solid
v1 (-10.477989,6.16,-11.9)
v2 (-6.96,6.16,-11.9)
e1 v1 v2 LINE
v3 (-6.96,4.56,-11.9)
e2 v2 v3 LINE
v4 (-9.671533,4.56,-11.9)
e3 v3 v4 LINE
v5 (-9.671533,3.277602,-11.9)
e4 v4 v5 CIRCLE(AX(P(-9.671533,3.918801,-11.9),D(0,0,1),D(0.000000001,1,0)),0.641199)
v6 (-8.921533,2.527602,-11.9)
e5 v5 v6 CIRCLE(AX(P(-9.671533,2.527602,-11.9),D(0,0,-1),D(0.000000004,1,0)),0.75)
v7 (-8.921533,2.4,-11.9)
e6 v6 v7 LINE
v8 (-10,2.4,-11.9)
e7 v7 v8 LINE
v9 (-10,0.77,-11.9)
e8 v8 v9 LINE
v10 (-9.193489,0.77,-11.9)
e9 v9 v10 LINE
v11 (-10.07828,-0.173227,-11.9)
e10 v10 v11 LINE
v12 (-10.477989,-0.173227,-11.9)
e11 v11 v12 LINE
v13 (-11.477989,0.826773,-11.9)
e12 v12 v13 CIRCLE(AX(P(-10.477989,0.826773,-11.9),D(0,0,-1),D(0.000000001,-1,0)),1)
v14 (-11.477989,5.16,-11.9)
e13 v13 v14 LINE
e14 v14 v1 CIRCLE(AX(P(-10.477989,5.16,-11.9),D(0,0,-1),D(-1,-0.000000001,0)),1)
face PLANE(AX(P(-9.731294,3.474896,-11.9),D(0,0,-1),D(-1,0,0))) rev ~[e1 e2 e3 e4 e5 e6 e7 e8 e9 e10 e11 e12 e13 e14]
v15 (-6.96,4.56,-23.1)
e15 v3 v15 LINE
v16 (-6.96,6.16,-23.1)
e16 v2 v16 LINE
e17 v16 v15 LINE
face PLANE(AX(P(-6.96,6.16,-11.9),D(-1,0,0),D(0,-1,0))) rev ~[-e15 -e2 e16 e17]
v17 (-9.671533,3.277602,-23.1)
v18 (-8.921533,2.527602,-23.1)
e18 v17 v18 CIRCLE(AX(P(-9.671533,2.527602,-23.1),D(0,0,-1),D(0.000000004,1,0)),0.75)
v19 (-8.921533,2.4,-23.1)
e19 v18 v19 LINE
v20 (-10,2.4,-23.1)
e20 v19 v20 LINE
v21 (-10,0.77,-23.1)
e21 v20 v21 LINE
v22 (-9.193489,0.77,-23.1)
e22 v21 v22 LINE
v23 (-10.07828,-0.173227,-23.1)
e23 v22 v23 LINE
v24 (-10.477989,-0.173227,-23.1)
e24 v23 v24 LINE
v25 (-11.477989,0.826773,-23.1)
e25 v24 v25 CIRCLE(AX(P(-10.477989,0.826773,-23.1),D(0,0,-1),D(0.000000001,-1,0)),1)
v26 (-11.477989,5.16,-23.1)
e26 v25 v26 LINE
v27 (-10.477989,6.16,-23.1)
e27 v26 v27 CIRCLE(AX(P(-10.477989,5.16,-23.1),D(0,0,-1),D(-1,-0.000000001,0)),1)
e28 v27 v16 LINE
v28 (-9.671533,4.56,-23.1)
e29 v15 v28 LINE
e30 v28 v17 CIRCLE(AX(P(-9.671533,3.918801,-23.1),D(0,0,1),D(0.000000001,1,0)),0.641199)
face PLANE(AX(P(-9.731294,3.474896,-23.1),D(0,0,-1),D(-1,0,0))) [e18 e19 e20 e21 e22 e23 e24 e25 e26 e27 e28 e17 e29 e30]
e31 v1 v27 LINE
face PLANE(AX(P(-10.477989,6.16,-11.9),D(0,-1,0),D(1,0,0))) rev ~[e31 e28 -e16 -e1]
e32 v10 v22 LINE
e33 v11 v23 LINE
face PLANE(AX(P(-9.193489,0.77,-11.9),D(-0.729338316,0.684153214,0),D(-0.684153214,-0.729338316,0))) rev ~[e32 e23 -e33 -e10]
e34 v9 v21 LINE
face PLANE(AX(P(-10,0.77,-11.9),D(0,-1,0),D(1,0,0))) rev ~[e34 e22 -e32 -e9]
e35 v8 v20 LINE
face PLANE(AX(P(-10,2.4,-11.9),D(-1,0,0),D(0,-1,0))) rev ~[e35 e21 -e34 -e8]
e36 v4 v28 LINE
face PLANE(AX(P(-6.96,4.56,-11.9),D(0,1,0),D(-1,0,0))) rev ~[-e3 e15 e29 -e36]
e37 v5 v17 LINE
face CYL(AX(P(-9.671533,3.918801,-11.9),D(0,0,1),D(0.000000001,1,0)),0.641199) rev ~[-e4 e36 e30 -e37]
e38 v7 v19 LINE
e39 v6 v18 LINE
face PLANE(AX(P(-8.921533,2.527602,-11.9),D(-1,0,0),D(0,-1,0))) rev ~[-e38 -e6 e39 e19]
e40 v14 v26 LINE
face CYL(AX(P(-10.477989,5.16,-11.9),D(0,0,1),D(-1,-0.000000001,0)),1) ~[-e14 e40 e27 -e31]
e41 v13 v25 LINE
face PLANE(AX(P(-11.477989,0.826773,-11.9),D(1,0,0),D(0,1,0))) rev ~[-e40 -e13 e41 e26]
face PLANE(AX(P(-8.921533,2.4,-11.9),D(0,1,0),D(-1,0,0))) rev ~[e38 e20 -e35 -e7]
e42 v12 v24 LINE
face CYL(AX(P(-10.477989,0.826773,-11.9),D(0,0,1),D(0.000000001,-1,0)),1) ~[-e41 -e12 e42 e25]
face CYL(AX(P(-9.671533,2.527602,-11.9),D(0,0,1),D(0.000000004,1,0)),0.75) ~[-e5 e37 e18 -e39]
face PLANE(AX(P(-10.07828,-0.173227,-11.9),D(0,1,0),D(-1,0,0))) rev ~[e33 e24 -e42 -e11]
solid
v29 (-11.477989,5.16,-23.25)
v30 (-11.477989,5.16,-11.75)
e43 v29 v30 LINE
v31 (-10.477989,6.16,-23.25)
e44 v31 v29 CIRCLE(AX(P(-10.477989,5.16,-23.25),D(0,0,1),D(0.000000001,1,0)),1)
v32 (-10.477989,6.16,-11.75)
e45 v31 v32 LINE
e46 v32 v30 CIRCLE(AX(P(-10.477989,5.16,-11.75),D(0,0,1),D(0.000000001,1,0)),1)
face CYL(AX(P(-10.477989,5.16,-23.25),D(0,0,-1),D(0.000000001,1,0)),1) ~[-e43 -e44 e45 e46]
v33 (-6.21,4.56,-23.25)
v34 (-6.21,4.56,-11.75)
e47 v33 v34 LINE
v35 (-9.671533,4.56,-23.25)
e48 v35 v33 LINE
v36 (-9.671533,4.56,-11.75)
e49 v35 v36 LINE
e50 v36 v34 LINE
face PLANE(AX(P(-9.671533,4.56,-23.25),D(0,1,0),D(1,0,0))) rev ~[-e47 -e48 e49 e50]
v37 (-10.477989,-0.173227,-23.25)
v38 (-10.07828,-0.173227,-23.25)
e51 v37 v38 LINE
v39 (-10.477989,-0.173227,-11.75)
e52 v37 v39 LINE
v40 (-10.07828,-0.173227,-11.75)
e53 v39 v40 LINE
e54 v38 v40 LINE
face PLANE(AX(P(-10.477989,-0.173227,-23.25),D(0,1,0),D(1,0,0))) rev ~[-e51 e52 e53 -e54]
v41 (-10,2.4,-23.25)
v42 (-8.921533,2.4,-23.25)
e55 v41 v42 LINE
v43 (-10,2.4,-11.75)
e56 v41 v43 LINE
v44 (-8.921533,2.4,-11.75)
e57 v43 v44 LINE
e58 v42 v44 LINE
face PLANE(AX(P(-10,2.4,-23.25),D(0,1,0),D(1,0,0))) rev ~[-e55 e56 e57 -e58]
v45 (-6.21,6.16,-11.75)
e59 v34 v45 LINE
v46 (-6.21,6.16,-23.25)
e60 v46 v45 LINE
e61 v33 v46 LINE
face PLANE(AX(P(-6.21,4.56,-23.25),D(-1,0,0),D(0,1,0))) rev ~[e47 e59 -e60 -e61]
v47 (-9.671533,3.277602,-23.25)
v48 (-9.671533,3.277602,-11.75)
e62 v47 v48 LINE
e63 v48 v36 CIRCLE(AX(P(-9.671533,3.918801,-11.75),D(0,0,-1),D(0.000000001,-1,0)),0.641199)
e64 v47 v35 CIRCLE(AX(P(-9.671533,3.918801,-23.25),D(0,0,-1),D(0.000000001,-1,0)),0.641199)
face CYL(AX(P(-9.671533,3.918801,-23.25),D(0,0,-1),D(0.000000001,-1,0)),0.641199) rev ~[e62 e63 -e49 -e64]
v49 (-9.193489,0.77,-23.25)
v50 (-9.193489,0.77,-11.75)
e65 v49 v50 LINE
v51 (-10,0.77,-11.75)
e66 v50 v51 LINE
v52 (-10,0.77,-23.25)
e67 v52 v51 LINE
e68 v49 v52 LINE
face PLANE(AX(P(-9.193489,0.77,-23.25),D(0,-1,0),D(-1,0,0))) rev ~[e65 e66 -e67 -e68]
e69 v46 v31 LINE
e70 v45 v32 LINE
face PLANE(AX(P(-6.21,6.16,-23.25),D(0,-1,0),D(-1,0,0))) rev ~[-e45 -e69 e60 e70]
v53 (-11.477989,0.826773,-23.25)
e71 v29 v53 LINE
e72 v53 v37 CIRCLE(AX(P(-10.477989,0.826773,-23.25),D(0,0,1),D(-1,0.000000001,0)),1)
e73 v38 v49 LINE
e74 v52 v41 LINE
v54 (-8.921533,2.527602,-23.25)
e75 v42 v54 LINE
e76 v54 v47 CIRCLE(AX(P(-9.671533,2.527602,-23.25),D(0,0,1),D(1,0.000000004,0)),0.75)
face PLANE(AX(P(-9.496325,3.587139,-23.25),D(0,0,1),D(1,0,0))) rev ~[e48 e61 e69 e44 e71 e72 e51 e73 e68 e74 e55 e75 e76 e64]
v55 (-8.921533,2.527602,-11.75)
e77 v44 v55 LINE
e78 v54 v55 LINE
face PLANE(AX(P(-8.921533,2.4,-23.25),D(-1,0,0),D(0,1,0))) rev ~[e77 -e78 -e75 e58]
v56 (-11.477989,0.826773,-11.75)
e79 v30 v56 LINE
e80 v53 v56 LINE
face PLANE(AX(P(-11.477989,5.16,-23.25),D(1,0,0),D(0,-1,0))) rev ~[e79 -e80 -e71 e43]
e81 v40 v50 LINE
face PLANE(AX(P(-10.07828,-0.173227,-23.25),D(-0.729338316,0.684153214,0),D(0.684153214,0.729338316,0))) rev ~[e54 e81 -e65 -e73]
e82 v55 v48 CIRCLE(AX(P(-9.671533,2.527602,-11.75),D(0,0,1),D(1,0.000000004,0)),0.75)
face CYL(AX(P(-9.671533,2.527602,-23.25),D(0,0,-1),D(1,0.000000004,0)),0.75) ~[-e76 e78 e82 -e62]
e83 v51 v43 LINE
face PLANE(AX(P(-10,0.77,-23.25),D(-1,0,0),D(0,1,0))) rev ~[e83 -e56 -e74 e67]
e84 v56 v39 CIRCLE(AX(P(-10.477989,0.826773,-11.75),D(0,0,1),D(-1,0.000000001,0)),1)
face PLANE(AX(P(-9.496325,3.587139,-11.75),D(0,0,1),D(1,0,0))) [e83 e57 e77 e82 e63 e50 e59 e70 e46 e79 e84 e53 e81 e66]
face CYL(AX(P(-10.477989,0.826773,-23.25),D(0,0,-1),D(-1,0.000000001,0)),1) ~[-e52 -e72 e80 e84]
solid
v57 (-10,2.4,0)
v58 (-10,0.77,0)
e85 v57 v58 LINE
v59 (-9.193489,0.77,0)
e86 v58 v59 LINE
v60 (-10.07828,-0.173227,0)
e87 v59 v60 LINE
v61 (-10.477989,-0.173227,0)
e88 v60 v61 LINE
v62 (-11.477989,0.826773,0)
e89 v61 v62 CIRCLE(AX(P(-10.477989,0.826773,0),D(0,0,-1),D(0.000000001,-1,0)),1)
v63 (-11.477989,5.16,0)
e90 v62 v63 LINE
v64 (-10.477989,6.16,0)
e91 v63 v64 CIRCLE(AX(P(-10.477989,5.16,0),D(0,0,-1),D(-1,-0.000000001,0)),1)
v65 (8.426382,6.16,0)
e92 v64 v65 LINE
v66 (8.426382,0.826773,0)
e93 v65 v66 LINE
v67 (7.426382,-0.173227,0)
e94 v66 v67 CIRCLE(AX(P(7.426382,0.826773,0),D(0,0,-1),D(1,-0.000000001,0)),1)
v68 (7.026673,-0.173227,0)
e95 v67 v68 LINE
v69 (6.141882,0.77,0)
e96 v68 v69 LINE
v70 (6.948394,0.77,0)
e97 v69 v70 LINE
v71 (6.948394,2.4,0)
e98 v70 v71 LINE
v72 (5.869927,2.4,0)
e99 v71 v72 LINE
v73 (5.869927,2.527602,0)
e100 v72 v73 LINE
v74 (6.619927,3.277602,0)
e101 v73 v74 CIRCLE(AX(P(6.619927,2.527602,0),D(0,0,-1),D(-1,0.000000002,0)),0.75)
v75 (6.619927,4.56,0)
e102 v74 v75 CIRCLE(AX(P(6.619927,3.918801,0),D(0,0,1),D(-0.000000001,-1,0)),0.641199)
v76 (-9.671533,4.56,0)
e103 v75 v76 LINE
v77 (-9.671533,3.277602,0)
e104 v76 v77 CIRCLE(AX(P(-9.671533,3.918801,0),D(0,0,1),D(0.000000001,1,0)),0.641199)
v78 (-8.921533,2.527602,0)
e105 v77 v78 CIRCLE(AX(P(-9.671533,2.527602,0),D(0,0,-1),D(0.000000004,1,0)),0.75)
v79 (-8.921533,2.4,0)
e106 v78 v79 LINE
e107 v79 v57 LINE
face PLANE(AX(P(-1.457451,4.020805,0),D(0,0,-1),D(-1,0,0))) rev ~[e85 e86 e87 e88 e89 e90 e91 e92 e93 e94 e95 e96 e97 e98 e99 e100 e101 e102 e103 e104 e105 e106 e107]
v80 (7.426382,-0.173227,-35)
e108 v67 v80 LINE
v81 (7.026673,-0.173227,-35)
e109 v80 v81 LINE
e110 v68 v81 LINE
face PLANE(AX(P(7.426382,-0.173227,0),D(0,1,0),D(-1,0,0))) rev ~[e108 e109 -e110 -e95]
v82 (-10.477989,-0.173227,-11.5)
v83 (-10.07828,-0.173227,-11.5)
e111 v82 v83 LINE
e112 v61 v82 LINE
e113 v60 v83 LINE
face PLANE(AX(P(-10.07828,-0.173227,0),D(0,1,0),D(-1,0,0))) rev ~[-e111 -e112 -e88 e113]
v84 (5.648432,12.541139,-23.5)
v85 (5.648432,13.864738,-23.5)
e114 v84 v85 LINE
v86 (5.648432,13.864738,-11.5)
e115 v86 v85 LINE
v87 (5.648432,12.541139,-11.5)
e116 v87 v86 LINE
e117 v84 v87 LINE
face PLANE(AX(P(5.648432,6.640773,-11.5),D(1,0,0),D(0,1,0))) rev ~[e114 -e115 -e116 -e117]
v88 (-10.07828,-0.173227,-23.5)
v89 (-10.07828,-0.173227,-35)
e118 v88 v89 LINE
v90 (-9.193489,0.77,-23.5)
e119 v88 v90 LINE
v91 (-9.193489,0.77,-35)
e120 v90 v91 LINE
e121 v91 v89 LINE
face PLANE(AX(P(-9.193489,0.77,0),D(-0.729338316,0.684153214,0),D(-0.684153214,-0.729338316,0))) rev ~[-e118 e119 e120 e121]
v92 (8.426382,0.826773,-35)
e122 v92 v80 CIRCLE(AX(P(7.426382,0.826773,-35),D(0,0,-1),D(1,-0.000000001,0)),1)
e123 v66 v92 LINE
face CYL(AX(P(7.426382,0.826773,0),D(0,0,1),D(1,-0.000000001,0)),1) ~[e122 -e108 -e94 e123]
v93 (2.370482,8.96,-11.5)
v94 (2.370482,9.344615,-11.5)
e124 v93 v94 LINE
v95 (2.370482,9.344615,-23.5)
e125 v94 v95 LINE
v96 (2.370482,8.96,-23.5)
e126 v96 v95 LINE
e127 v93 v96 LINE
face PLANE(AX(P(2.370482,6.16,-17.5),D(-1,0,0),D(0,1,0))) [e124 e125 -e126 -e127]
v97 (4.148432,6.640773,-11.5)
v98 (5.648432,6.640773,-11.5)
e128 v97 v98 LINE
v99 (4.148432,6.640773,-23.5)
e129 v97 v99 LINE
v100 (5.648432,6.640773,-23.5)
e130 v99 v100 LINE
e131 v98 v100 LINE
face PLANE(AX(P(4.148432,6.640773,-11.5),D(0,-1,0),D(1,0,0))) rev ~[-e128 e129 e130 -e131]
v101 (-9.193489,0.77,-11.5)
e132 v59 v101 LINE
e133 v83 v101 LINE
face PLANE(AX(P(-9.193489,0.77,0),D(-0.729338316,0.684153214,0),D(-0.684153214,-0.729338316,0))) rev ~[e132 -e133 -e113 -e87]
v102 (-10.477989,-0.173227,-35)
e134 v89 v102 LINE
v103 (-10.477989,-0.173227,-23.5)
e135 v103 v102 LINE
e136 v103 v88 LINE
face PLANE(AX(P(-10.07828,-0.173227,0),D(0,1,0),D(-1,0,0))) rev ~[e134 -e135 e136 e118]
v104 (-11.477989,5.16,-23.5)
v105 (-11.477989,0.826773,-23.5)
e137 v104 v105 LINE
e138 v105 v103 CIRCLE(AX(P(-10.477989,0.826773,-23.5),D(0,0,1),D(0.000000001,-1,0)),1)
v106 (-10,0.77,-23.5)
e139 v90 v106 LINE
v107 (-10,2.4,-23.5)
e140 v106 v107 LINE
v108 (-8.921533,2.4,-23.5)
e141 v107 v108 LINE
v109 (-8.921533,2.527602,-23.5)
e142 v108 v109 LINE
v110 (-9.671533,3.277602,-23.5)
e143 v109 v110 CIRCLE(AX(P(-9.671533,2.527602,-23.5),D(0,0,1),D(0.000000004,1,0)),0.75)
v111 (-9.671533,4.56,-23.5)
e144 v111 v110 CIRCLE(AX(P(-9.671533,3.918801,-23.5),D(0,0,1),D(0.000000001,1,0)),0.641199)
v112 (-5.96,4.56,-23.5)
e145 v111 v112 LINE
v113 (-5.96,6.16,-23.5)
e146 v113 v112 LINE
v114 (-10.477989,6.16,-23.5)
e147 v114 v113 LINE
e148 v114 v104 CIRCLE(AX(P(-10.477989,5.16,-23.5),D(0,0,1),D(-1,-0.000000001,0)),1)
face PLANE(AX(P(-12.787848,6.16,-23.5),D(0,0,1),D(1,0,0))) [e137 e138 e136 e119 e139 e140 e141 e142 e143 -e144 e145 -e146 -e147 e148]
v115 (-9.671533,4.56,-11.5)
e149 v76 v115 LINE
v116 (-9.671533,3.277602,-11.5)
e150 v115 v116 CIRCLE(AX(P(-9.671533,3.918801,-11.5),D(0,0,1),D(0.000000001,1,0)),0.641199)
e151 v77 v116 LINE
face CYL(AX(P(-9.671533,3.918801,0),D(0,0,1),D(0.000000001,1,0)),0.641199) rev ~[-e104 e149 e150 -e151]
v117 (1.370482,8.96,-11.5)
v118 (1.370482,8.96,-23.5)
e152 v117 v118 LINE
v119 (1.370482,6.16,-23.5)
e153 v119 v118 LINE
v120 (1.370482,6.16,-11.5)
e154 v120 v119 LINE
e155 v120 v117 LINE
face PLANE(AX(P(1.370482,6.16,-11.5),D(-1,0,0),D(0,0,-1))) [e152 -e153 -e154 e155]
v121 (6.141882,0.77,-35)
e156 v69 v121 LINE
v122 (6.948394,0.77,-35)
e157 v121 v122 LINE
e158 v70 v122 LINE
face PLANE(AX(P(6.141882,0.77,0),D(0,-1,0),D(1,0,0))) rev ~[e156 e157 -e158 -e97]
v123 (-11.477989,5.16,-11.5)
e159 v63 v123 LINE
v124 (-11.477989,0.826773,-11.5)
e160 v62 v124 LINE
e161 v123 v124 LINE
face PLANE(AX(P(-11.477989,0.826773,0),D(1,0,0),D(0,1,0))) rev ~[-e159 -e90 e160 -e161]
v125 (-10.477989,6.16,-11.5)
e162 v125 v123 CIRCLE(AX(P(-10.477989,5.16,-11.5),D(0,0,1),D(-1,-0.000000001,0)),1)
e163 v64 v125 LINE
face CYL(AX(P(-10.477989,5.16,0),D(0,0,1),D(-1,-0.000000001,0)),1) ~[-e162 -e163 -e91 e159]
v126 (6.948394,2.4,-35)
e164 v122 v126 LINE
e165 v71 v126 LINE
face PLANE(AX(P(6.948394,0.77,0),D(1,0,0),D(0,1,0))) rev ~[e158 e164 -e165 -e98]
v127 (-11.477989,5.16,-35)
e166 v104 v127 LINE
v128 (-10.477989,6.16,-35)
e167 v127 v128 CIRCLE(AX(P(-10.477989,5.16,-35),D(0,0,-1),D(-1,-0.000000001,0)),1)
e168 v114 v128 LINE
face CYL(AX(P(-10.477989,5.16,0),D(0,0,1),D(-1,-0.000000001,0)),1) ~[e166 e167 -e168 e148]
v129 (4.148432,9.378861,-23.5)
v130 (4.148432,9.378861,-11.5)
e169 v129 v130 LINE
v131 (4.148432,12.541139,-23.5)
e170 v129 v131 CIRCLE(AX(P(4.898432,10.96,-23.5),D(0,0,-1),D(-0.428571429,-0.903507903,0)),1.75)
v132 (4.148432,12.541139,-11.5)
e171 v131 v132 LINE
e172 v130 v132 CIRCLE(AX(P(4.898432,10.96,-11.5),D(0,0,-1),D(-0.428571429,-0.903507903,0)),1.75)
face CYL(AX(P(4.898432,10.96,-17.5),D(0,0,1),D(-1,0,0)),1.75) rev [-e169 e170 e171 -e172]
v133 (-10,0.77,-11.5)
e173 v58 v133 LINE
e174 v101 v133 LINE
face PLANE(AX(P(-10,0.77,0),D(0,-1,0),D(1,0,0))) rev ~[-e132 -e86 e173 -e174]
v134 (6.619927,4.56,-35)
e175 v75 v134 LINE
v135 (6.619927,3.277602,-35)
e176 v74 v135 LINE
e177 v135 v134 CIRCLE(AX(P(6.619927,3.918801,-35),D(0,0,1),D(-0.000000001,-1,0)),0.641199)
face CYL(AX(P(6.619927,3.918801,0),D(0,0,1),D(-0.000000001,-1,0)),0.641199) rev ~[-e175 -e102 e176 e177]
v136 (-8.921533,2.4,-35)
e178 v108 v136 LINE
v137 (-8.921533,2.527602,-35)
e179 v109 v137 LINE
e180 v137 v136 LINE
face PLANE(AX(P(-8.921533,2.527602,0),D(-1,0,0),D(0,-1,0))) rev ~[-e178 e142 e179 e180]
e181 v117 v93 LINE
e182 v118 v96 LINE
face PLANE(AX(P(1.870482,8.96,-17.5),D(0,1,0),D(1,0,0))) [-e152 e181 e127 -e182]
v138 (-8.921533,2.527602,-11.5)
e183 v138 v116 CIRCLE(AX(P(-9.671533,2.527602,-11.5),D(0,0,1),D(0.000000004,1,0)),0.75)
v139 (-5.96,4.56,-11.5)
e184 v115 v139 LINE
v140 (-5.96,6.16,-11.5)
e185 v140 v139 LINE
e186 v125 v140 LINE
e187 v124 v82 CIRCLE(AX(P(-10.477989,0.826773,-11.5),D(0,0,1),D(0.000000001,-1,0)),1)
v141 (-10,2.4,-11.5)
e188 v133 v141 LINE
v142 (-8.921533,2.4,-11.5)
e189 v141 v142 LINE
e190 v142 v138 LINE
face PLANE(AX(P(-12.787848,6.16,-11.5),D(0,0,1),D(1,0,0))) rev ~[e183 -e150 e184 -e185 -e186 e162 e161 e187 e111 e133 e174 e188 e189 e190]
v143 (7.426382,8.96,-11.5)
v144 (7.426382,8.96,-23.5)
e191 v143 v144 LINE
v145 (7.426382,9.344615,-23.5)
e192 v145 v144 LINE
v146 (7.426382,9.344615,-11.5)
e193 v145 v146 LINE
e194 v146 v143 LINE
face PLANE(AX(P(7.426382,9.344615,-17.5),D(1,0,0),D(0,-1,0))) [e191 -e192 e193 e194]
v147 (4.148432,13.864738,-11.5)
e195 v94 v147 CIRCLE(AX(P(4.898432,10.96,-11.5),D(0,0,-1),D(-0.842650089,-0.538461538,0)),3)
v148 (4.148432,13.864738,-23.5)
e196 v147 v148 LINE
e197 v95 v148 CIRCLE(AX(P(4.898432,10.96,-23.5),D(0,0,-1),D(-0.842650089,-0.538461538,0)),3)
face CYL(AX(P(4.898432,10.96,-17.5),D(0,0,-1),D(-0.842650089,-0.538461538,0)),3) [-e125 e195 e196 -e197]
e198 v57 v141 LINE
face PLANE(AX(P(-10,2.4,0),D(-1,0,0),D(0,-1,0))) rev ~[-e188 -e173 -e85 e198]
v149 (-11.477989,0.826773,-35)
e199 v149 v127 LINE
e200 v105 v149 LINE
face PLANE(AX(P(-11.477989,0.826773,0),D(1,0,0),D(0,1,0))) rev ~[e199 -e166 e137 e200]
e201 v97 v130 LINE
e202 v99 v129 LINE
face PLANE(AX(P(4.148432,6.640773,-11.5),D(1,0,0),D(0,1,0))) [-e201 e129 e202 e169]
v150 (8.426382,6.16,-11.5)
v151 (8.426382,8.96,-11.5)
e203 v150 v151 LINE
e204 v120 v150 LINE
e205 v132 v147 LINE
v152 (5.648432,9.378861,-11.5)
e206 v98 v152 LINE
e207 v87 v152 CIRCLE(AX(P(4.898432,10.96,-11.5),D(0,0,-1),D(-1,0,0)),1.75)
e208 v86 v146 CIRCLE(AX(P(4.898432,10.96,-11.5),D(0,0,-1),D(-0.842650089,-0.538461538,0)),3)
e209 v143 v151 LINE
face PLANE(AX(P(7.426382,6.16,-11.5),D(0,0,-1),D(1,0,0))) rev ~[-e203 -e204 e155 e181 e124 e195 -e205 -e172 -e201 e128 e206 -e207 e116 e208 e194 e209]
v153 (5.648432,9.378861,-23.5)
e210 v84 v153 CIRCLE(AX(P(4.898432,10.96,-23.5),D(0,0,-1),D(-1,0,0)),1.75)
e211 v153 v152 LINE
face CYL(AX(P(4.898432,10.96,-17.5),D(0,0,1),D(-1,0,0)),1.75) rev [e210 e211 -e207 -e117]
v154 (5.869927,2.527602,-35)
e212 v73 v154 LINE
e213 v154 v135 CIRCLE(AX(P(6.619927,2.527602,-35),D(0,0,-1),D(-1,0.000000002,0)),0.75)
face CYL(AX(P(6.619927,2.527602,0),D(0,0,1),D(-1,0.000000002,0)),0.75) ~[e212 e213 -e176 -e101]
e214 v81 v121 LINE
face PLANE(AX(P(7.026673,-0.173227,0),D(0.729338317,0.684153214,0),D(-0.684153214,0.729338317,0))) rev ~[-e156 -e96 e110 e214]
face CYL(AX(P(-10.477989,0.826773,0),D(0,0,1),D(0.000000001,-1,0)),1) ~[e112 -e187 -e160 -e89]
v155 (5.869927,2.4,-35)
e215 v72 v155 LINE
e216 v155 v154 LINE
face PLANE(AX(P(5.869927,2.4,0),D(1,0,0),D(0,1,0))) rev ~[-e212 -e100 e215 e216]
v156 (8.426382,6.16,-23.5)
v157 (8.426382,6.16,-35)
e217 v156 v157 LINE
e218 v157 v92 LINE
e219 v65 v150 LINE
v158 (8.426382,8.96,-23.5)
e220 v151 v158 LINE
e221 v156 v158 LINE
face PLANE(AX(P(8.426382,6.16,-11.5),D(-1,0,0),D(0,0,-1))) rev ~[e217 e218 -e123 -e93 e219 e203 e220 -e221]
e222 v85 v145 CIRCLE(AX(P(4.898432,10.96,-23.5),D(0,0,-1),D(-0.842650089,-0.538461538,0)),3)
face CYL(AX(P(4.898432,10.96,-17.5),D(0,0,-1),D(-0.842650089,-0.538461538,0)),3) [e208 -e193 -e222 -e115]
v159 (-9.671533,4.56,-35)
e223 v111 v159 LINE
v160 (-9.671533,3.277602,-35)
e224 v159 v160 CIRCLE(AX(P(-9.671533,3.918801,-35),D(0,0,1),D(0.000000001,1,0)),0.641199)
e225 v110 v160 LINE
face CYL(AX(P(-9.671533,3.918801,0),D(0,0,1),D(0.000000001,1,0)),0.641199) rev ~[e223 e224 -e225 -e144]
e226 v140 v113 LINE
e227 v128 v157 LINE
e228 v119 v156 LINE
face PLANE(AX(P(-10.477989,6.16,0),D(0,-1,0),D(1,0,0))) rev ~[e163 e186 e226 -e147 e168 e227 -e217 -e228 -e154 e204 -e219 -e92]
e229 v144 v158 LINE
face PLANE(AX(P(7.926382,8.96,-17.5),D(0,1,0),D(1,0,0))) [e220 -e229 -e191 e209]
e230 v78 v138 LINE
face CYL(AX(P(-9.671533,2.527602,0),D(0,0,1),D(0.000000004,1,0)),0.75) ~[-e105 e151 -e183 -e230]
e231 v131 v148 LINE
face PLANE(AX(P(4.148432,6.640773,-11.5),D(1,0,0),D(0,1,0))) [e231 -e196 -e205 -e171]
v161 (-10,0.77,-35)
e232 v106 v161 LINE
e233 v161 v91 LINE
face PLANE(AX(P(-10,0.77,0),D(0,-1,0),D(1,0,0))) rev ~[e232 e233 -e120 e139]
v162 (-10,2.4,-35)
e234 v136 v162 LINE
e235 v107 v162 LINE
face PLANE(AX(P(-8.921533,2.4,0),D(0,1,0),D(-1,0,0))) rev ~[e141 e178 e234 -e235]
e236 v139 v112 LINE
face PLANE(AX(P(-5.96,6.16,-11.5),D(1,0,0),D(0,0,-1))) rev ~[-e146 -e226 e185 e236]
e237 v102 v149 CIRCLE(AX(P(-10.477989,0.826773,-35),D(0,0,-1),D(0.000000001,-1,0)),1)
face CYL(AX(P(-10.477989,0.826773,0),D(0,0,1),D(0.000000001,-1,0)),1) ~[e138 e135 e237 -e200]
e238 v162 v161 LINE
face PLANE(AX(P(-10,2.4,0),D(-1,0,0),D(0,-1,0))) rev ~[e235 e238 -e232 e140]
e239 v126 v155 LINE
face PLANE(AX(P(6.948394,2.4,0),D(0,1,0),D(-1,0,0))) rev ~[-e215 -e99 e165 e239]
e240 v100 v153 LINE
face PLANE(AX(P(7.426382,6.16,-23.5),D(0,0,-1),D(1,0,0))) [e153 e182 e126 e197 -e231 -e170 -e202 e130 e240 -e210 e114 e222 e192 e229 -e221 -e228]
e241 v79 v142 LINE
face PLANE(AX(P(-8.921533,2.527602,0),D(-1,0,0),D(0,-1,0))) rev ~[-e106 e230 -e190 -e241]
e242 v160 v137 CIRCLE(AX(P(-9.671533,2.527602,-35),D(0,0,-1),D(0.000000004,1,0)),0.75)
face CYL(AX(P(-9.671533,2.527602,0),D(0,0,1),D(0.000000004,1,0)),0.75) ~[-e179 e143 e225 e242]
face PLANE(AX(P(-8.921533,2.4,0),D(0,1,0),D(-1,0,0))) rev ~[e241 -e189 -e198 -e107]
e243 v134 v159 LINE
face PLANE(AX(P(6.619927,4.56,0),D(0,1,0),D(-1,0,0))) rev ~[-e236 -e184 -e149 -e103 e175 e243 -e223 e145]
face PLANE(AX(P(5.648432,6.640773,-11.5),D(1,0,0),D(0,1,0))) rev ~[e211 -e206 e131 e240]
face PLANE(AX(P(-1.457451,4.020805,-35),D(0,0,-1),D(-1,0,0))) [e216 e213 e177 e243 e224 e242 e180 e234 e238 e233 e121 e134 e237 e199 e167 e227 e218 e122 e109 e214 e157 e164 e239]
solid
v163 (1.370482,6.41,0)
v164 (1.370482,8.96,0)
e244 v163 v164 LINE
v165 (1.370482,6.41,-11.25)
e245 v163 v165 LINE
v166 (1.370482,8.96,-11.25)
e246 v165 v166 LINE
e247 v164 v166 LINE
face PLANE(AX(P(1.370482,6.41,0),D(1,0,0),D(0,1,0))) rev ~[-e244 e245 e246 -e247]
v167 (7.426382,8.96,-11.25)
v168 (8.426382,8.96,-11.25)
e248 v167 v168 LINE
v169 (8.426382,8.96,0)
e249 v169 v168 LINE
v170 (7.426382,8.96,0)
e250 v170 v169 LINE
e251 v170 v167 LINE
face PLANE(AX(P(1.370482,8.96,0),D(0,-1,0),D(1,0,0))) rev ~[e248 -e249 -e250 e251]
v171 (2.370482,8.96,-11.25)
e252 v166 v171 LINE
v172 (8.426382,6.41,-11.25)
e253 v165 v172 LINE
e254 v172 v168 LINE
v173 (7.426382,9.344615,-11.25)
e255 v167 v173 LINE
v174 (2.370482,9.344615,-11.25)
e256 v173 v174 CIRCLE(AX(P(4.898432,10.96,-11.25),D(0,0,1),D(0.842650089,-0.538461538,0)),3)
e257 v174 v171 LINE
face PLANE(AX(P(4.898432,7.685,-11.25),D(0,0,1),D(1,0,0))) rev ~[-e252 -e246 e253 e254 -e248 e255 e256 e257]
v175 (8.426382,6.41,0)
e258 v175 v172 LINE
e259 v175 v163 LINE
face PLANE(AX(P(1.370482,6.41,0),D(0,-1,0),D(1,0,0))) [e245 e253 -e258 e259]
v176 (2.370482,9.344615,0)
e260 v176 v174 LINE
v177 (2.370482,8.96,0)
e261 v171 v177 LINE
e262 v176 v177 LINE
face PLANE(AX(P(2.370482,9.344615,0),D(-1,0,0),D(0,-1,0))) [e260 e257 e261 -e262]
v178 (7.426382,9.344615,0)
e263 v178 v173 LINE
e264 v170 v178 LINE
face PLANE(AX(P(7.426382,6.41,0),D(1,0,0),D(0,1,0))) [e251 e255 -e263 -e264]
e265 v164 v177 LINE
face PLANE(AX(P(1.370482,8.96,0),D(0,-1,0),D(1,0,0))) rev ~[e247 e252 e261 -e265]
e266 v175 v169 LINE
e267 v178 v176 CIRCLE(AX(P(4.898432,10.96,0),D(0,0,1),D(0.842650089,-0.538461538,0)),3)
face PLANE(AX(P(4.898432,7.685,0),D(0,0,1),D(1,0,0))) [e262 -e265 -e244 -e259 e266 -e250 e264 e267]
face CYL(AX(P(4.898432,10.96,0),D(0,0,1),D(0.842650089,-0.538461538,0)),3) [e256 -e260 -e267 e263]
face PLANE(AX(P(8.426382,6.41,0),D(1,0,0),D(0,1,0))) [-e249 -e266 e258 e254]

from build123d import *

# Parameters (mm, degrees)
BOSS_EXTRUDE1_DEPTH  = 35
SKETCH2_R            = 1.75
BOSS_EXTRUDE2_DEPTH  = 6
SKETCH3_W            = 6.827847706
SKETCH3_H            = 12
CUT_EXTRUDE1_DEPTH   = 38.650819755
BOSS_EXTRUDE9_DEPTH  = 11.25
BOSS_EXTRUDE5_START  = 11.6
BOSS_EXTRUDE5_DEPTH  = 11.2
SKETCH7_W            = 1
SKETCH7_H            = 12
BOSS_EXTRUDE6_DEPTH  = 2.8
BOSS_EXTRUDE8_DEPTH  = 11.5
SKETCH10_W           = 1.5
SKETCH10_H           = 15.807669909
CUT_EXTRUDE2_DEPTH   = 12
SKETCH11_W           = 7.055900531
SKETCH11_H           = 2.55
BOSS_EXTRUDE10_DEPTH = 11.25


with BuildPart() as part:
    # Sketch1 → Boss-Extrude1 (new body)
    with BuildSketch(Plane.XY):
        with BuildLine():
            Line((-10, 0.77), (-9.193488643, 0.77))
            Line((-9.193488643, 0.77), (-10.078279759, -0.173227408))
            Line((-10.078279759, -0.173227408), (-10.477988856, -0.173227408))
            ThreePointArc((-10.477988856, -0.173227408), (-11.185095638, 0.119665811), (-11.477988856, 0.826772592))
            Line((-11.477988856, 0.826772592), (-11.477988856, 5.16))
            ThreePointArc((-11.477988856, 5.16), (-11.185095638, 5.867106781), (-10.477988856, 6.16))
            Line((-10.477988856, 6.16), (7.42638243, 6.16))
            Line((7.42638243, 6.16), (8.42638243, 6.16))
            Line((8.42638243, 6.16), (8.42638243, 5.16))
            Line((8.42638243, 5.16), (8.42638243, 0.826772592))
            ThreePointArc((8.42638243, 0.826772592), (8.133489211, 0.119665811), (7.42638243, -0.173227408))
            Line((7.42638243, -0.173227408), (7.026673332, -0.173227408))
            Line((7.026673332, -0.173227408), (6.141882217, 0.77))
            Line((6.141882217, 0.77), (6.948393574, 0.77))
            Line((6.948393574, 0.77), (6.948393574, 2.4))
            Line((6.948393574, 2.4), (5.869926753, 2.4))
            Line((5.869926753, 2.4), (5.869926753, 2.527601685))
            ThreePointArc((5.869926753, 2.527601685), (6.089596667, 3.05793177), (6.619926753, 3.277601685))
            ThreePointArc((6.619926753, 3.277601685), (7.261125911, 3.918800842), (6.619926753, 4.56))
            Line((6.619926753, 4.56), (-9.671533179, 4.56))
            ThreePointArc((-9.671533179, 4.56), (-10.312732337, 3.918800842), (-9.671533179, 3.277601685))
            ThreePointArc((-9.671533179, 3.277601685), (-9.141203094, 3.05793177), (-8.921533179, 2.527601685))
            Line((-8.921533179, 2.527601685), (-8.921533179, 2.4))
            Line((-8.921533179, 2.4), (-10, 2.4))
            Line((-10, 2.4), (-10, 0.77))
        make_face()
    extrude(amount=-BOSS_EXTRUDE1_DEPTH)

    # Sketch2 → Boss-Extrude2 (add, symmetric)
    with BuildSketch(Plane(origin=(0, 0, -17.5), x_dir=(-1, 0, 0), z_dir=(0, 0, -1))):
        with BuildLine():
            Line((-7.42638243, 6.16), (-2.370481899, 6.16))
            Line((-2.370481899, 6.16), (-2.370481899, 9.344615385))
            ThreePointArc((-2.370481899, 9.344615385), (-4.898432165, 13.96), (-7.42638243, 9.344615385))
            Line((-7.42638243, 9.344615385), (-7.42638243, 6.16))
        make_face()
        with Locations((-4.898432165, 10.96)):
            Circle(SKETCH2_R, mode=Mode.SUBTRACT)
    extrude(amount=BOSS_EXTRUDE2_DEPTH, both=True)

    # Sketch3 → Cut-Extrude1 (cut, through all)
    with BuildSketch(Plane(origin=(0, 6.16, 0), x_dir=(1, 0, 0), z_dir=(0, 1, 0))):
        with Locations((-9.373923853, 17.5)):
            Rectangle(SKETCH3_W, SKETCH3_H)
    extrude(amount=-CUT_EXTRUDE1_DEPTH, mode=Mode.SUBTRACT)

    # Sketch7 → Boss-Extrude6 (add)
    with BuildSketch(Plane(origin=(0, 6.16, 0), x_dir=(1, 0, 0), z_dir=(0, 1, 0))):
        with Locations((7.92638243, 17.5)):
            Rectangle(SKETCH7_W, SKETCH7_H)
        with Locations((1.870481899, 17.5)):
            Rectangle(SKETCH7_W, SKETCH7_H)
    extrude(amount=BOSS_EXTRUDE6_DEPTH)

    # Sketch10 → Cut-Extrude2 (cut)
    with BuildSketch(Plane.XY.offset(-11.5)):
        with Locations((4.898432165, 14.544608337)):
            Rectangle(SKETCH10_W, SKETCH10_H)
    extrude(amount=-CUT_EXTRUDE2_DEPTH, mode=Mode.SUBTRACT)


with BuildPart() as body_2:
    # Sketch4 → Boss-Extrude9 (new body)
    with BuildSketch(Plane.XY):
        with BuildLine():
            Line((7.42638243, 6.41), (7.42638243, 9.344615385))
            ThreePointArc((7.42638243, 9.344615385), (4.898432165, 13.96), (2.370481899, 9.344615385))
            Line((2.370481899, 9.344615385), (2.370481899, 6.41))
            Line((2.370481899, 6.41), (7.42638243, 6.41))
        make_face()
    extrude(amount=-BOSS_EXTRUDE9_DEPTH)

    # Sketch11 → Boss-Extrude10 (add)
    with BuildSketch(Plane.XY):
        with Locations((4.898432164, 7.685)):
            Rectangle(SKETCH11_W, SKETCH11_H)
    extrude(amount=-BOSS_EXTRUDE10_DEPTH)


with BuildPart() as body_3:
    # Sketch6 → Boss-Extrude5 (new body)
    with BuildSketch(Plane.XY.offset(-23.5).offset(BOSS_EXTRUDE5_START)):
        with BuildLine():
            Line((-6.96, 6.16), (-6.96, 4.56))
            Line((-6.96, 4.56), (-9.671533179, 4.56))
            ThreePointArc((-9.671533179, 4.56), (-10.312732337, 3.918800842), (-9.671533179, 3.277601685))
            ThreePointArc((-9.671533179, 3.277601685), (-9.141203094, 3.05793177), (-8.921533179, 2.527601685))
            Line((-8.921533179, 2.527601685), (-8.921533179, 2.4))
            Line((-8.921533179, 2.4), (-10, 2.4))
            Line((-10, 2.4), (-10, 0.77))
            Line((-10, 0.77), (-9.193488643, 0.77))
            Line((-9.193488643, 0.77), (-10.078279759, -0.173227408))
            Line((-10.078279759, -0.173227408), (-10.477988856, -0.173227408))
            ThreePointArc((-10.477988856, -0.173227408), (-11.185095638, 0.119665811), (-11.477988856, 0.826772592))
            Line((-11.477988856, 0.826772592), (-11.477988856, 5.16))
            ThreePointArc((-11.477988856, 5.16), (-11.185095638, 5.867106781), (-10.477988856, 6.16))
            Line((-10.477988856, 6.16), (-6.96, 6.16))
        make_face()
    extrude(amount=-BOSS_EXTRUDE5_DEPTH)


with BuildPart() as body_4:
    # Sketch9 → Boss-Extrude8 (new body)
    with BuildSketch(Plane.XY.offset(-23.25)):
        with BuildLine():
            Line((-6.21, 6.16), (-10.477988856, 6.16))
            ThreePointArc((-10.477988856, 6.16), (-11.185095638, 5.867106781), (-11.477988856, 5.16))
            Line((-11.477988856, 5.16), (-11.477988856, 0.826772592))
            ThreePointArc((-11.477988856, 0.826772592), (-11.185095638, 0.119665811), (-10.477988856, -0.173227408))
            Line((-10.477988856, -0.173227408), (-10.078279759, -0.173227408))
            Line((-10.078279759, -0.173227408), (-9.193488643, 0.77))
            Line((-9.193488643, 0.77), (-10, 0.77))
            Line((-10, 0.77), (-10, 2.4))
            Line((-10, 2.4), (-8.921533179, 2.4))
            Line((-8.921533179, 2.4), (-8.921533179, 2.527601685))
            ThreePointArc((-8.921533179, 2.527601685), (-9.141203094, 3.05793177), (-9.671533179, 3.277601685))
            ThreePointArc((-9.671533179, 3.277601685), (-10.312732337, 3.918800842), (-9.671533179, 4.56))
            Line((-9.671533179, 4.56), (-6.21, 4.56))
            Line((-6.21, 4.56), (-6.21, 6.16))
        make_face()
    extrude(amount=BOSS_EXTRUDE8_DEPTH)


solid = Compound([part.part, body_2.part, body_3.part, body_4.part])
